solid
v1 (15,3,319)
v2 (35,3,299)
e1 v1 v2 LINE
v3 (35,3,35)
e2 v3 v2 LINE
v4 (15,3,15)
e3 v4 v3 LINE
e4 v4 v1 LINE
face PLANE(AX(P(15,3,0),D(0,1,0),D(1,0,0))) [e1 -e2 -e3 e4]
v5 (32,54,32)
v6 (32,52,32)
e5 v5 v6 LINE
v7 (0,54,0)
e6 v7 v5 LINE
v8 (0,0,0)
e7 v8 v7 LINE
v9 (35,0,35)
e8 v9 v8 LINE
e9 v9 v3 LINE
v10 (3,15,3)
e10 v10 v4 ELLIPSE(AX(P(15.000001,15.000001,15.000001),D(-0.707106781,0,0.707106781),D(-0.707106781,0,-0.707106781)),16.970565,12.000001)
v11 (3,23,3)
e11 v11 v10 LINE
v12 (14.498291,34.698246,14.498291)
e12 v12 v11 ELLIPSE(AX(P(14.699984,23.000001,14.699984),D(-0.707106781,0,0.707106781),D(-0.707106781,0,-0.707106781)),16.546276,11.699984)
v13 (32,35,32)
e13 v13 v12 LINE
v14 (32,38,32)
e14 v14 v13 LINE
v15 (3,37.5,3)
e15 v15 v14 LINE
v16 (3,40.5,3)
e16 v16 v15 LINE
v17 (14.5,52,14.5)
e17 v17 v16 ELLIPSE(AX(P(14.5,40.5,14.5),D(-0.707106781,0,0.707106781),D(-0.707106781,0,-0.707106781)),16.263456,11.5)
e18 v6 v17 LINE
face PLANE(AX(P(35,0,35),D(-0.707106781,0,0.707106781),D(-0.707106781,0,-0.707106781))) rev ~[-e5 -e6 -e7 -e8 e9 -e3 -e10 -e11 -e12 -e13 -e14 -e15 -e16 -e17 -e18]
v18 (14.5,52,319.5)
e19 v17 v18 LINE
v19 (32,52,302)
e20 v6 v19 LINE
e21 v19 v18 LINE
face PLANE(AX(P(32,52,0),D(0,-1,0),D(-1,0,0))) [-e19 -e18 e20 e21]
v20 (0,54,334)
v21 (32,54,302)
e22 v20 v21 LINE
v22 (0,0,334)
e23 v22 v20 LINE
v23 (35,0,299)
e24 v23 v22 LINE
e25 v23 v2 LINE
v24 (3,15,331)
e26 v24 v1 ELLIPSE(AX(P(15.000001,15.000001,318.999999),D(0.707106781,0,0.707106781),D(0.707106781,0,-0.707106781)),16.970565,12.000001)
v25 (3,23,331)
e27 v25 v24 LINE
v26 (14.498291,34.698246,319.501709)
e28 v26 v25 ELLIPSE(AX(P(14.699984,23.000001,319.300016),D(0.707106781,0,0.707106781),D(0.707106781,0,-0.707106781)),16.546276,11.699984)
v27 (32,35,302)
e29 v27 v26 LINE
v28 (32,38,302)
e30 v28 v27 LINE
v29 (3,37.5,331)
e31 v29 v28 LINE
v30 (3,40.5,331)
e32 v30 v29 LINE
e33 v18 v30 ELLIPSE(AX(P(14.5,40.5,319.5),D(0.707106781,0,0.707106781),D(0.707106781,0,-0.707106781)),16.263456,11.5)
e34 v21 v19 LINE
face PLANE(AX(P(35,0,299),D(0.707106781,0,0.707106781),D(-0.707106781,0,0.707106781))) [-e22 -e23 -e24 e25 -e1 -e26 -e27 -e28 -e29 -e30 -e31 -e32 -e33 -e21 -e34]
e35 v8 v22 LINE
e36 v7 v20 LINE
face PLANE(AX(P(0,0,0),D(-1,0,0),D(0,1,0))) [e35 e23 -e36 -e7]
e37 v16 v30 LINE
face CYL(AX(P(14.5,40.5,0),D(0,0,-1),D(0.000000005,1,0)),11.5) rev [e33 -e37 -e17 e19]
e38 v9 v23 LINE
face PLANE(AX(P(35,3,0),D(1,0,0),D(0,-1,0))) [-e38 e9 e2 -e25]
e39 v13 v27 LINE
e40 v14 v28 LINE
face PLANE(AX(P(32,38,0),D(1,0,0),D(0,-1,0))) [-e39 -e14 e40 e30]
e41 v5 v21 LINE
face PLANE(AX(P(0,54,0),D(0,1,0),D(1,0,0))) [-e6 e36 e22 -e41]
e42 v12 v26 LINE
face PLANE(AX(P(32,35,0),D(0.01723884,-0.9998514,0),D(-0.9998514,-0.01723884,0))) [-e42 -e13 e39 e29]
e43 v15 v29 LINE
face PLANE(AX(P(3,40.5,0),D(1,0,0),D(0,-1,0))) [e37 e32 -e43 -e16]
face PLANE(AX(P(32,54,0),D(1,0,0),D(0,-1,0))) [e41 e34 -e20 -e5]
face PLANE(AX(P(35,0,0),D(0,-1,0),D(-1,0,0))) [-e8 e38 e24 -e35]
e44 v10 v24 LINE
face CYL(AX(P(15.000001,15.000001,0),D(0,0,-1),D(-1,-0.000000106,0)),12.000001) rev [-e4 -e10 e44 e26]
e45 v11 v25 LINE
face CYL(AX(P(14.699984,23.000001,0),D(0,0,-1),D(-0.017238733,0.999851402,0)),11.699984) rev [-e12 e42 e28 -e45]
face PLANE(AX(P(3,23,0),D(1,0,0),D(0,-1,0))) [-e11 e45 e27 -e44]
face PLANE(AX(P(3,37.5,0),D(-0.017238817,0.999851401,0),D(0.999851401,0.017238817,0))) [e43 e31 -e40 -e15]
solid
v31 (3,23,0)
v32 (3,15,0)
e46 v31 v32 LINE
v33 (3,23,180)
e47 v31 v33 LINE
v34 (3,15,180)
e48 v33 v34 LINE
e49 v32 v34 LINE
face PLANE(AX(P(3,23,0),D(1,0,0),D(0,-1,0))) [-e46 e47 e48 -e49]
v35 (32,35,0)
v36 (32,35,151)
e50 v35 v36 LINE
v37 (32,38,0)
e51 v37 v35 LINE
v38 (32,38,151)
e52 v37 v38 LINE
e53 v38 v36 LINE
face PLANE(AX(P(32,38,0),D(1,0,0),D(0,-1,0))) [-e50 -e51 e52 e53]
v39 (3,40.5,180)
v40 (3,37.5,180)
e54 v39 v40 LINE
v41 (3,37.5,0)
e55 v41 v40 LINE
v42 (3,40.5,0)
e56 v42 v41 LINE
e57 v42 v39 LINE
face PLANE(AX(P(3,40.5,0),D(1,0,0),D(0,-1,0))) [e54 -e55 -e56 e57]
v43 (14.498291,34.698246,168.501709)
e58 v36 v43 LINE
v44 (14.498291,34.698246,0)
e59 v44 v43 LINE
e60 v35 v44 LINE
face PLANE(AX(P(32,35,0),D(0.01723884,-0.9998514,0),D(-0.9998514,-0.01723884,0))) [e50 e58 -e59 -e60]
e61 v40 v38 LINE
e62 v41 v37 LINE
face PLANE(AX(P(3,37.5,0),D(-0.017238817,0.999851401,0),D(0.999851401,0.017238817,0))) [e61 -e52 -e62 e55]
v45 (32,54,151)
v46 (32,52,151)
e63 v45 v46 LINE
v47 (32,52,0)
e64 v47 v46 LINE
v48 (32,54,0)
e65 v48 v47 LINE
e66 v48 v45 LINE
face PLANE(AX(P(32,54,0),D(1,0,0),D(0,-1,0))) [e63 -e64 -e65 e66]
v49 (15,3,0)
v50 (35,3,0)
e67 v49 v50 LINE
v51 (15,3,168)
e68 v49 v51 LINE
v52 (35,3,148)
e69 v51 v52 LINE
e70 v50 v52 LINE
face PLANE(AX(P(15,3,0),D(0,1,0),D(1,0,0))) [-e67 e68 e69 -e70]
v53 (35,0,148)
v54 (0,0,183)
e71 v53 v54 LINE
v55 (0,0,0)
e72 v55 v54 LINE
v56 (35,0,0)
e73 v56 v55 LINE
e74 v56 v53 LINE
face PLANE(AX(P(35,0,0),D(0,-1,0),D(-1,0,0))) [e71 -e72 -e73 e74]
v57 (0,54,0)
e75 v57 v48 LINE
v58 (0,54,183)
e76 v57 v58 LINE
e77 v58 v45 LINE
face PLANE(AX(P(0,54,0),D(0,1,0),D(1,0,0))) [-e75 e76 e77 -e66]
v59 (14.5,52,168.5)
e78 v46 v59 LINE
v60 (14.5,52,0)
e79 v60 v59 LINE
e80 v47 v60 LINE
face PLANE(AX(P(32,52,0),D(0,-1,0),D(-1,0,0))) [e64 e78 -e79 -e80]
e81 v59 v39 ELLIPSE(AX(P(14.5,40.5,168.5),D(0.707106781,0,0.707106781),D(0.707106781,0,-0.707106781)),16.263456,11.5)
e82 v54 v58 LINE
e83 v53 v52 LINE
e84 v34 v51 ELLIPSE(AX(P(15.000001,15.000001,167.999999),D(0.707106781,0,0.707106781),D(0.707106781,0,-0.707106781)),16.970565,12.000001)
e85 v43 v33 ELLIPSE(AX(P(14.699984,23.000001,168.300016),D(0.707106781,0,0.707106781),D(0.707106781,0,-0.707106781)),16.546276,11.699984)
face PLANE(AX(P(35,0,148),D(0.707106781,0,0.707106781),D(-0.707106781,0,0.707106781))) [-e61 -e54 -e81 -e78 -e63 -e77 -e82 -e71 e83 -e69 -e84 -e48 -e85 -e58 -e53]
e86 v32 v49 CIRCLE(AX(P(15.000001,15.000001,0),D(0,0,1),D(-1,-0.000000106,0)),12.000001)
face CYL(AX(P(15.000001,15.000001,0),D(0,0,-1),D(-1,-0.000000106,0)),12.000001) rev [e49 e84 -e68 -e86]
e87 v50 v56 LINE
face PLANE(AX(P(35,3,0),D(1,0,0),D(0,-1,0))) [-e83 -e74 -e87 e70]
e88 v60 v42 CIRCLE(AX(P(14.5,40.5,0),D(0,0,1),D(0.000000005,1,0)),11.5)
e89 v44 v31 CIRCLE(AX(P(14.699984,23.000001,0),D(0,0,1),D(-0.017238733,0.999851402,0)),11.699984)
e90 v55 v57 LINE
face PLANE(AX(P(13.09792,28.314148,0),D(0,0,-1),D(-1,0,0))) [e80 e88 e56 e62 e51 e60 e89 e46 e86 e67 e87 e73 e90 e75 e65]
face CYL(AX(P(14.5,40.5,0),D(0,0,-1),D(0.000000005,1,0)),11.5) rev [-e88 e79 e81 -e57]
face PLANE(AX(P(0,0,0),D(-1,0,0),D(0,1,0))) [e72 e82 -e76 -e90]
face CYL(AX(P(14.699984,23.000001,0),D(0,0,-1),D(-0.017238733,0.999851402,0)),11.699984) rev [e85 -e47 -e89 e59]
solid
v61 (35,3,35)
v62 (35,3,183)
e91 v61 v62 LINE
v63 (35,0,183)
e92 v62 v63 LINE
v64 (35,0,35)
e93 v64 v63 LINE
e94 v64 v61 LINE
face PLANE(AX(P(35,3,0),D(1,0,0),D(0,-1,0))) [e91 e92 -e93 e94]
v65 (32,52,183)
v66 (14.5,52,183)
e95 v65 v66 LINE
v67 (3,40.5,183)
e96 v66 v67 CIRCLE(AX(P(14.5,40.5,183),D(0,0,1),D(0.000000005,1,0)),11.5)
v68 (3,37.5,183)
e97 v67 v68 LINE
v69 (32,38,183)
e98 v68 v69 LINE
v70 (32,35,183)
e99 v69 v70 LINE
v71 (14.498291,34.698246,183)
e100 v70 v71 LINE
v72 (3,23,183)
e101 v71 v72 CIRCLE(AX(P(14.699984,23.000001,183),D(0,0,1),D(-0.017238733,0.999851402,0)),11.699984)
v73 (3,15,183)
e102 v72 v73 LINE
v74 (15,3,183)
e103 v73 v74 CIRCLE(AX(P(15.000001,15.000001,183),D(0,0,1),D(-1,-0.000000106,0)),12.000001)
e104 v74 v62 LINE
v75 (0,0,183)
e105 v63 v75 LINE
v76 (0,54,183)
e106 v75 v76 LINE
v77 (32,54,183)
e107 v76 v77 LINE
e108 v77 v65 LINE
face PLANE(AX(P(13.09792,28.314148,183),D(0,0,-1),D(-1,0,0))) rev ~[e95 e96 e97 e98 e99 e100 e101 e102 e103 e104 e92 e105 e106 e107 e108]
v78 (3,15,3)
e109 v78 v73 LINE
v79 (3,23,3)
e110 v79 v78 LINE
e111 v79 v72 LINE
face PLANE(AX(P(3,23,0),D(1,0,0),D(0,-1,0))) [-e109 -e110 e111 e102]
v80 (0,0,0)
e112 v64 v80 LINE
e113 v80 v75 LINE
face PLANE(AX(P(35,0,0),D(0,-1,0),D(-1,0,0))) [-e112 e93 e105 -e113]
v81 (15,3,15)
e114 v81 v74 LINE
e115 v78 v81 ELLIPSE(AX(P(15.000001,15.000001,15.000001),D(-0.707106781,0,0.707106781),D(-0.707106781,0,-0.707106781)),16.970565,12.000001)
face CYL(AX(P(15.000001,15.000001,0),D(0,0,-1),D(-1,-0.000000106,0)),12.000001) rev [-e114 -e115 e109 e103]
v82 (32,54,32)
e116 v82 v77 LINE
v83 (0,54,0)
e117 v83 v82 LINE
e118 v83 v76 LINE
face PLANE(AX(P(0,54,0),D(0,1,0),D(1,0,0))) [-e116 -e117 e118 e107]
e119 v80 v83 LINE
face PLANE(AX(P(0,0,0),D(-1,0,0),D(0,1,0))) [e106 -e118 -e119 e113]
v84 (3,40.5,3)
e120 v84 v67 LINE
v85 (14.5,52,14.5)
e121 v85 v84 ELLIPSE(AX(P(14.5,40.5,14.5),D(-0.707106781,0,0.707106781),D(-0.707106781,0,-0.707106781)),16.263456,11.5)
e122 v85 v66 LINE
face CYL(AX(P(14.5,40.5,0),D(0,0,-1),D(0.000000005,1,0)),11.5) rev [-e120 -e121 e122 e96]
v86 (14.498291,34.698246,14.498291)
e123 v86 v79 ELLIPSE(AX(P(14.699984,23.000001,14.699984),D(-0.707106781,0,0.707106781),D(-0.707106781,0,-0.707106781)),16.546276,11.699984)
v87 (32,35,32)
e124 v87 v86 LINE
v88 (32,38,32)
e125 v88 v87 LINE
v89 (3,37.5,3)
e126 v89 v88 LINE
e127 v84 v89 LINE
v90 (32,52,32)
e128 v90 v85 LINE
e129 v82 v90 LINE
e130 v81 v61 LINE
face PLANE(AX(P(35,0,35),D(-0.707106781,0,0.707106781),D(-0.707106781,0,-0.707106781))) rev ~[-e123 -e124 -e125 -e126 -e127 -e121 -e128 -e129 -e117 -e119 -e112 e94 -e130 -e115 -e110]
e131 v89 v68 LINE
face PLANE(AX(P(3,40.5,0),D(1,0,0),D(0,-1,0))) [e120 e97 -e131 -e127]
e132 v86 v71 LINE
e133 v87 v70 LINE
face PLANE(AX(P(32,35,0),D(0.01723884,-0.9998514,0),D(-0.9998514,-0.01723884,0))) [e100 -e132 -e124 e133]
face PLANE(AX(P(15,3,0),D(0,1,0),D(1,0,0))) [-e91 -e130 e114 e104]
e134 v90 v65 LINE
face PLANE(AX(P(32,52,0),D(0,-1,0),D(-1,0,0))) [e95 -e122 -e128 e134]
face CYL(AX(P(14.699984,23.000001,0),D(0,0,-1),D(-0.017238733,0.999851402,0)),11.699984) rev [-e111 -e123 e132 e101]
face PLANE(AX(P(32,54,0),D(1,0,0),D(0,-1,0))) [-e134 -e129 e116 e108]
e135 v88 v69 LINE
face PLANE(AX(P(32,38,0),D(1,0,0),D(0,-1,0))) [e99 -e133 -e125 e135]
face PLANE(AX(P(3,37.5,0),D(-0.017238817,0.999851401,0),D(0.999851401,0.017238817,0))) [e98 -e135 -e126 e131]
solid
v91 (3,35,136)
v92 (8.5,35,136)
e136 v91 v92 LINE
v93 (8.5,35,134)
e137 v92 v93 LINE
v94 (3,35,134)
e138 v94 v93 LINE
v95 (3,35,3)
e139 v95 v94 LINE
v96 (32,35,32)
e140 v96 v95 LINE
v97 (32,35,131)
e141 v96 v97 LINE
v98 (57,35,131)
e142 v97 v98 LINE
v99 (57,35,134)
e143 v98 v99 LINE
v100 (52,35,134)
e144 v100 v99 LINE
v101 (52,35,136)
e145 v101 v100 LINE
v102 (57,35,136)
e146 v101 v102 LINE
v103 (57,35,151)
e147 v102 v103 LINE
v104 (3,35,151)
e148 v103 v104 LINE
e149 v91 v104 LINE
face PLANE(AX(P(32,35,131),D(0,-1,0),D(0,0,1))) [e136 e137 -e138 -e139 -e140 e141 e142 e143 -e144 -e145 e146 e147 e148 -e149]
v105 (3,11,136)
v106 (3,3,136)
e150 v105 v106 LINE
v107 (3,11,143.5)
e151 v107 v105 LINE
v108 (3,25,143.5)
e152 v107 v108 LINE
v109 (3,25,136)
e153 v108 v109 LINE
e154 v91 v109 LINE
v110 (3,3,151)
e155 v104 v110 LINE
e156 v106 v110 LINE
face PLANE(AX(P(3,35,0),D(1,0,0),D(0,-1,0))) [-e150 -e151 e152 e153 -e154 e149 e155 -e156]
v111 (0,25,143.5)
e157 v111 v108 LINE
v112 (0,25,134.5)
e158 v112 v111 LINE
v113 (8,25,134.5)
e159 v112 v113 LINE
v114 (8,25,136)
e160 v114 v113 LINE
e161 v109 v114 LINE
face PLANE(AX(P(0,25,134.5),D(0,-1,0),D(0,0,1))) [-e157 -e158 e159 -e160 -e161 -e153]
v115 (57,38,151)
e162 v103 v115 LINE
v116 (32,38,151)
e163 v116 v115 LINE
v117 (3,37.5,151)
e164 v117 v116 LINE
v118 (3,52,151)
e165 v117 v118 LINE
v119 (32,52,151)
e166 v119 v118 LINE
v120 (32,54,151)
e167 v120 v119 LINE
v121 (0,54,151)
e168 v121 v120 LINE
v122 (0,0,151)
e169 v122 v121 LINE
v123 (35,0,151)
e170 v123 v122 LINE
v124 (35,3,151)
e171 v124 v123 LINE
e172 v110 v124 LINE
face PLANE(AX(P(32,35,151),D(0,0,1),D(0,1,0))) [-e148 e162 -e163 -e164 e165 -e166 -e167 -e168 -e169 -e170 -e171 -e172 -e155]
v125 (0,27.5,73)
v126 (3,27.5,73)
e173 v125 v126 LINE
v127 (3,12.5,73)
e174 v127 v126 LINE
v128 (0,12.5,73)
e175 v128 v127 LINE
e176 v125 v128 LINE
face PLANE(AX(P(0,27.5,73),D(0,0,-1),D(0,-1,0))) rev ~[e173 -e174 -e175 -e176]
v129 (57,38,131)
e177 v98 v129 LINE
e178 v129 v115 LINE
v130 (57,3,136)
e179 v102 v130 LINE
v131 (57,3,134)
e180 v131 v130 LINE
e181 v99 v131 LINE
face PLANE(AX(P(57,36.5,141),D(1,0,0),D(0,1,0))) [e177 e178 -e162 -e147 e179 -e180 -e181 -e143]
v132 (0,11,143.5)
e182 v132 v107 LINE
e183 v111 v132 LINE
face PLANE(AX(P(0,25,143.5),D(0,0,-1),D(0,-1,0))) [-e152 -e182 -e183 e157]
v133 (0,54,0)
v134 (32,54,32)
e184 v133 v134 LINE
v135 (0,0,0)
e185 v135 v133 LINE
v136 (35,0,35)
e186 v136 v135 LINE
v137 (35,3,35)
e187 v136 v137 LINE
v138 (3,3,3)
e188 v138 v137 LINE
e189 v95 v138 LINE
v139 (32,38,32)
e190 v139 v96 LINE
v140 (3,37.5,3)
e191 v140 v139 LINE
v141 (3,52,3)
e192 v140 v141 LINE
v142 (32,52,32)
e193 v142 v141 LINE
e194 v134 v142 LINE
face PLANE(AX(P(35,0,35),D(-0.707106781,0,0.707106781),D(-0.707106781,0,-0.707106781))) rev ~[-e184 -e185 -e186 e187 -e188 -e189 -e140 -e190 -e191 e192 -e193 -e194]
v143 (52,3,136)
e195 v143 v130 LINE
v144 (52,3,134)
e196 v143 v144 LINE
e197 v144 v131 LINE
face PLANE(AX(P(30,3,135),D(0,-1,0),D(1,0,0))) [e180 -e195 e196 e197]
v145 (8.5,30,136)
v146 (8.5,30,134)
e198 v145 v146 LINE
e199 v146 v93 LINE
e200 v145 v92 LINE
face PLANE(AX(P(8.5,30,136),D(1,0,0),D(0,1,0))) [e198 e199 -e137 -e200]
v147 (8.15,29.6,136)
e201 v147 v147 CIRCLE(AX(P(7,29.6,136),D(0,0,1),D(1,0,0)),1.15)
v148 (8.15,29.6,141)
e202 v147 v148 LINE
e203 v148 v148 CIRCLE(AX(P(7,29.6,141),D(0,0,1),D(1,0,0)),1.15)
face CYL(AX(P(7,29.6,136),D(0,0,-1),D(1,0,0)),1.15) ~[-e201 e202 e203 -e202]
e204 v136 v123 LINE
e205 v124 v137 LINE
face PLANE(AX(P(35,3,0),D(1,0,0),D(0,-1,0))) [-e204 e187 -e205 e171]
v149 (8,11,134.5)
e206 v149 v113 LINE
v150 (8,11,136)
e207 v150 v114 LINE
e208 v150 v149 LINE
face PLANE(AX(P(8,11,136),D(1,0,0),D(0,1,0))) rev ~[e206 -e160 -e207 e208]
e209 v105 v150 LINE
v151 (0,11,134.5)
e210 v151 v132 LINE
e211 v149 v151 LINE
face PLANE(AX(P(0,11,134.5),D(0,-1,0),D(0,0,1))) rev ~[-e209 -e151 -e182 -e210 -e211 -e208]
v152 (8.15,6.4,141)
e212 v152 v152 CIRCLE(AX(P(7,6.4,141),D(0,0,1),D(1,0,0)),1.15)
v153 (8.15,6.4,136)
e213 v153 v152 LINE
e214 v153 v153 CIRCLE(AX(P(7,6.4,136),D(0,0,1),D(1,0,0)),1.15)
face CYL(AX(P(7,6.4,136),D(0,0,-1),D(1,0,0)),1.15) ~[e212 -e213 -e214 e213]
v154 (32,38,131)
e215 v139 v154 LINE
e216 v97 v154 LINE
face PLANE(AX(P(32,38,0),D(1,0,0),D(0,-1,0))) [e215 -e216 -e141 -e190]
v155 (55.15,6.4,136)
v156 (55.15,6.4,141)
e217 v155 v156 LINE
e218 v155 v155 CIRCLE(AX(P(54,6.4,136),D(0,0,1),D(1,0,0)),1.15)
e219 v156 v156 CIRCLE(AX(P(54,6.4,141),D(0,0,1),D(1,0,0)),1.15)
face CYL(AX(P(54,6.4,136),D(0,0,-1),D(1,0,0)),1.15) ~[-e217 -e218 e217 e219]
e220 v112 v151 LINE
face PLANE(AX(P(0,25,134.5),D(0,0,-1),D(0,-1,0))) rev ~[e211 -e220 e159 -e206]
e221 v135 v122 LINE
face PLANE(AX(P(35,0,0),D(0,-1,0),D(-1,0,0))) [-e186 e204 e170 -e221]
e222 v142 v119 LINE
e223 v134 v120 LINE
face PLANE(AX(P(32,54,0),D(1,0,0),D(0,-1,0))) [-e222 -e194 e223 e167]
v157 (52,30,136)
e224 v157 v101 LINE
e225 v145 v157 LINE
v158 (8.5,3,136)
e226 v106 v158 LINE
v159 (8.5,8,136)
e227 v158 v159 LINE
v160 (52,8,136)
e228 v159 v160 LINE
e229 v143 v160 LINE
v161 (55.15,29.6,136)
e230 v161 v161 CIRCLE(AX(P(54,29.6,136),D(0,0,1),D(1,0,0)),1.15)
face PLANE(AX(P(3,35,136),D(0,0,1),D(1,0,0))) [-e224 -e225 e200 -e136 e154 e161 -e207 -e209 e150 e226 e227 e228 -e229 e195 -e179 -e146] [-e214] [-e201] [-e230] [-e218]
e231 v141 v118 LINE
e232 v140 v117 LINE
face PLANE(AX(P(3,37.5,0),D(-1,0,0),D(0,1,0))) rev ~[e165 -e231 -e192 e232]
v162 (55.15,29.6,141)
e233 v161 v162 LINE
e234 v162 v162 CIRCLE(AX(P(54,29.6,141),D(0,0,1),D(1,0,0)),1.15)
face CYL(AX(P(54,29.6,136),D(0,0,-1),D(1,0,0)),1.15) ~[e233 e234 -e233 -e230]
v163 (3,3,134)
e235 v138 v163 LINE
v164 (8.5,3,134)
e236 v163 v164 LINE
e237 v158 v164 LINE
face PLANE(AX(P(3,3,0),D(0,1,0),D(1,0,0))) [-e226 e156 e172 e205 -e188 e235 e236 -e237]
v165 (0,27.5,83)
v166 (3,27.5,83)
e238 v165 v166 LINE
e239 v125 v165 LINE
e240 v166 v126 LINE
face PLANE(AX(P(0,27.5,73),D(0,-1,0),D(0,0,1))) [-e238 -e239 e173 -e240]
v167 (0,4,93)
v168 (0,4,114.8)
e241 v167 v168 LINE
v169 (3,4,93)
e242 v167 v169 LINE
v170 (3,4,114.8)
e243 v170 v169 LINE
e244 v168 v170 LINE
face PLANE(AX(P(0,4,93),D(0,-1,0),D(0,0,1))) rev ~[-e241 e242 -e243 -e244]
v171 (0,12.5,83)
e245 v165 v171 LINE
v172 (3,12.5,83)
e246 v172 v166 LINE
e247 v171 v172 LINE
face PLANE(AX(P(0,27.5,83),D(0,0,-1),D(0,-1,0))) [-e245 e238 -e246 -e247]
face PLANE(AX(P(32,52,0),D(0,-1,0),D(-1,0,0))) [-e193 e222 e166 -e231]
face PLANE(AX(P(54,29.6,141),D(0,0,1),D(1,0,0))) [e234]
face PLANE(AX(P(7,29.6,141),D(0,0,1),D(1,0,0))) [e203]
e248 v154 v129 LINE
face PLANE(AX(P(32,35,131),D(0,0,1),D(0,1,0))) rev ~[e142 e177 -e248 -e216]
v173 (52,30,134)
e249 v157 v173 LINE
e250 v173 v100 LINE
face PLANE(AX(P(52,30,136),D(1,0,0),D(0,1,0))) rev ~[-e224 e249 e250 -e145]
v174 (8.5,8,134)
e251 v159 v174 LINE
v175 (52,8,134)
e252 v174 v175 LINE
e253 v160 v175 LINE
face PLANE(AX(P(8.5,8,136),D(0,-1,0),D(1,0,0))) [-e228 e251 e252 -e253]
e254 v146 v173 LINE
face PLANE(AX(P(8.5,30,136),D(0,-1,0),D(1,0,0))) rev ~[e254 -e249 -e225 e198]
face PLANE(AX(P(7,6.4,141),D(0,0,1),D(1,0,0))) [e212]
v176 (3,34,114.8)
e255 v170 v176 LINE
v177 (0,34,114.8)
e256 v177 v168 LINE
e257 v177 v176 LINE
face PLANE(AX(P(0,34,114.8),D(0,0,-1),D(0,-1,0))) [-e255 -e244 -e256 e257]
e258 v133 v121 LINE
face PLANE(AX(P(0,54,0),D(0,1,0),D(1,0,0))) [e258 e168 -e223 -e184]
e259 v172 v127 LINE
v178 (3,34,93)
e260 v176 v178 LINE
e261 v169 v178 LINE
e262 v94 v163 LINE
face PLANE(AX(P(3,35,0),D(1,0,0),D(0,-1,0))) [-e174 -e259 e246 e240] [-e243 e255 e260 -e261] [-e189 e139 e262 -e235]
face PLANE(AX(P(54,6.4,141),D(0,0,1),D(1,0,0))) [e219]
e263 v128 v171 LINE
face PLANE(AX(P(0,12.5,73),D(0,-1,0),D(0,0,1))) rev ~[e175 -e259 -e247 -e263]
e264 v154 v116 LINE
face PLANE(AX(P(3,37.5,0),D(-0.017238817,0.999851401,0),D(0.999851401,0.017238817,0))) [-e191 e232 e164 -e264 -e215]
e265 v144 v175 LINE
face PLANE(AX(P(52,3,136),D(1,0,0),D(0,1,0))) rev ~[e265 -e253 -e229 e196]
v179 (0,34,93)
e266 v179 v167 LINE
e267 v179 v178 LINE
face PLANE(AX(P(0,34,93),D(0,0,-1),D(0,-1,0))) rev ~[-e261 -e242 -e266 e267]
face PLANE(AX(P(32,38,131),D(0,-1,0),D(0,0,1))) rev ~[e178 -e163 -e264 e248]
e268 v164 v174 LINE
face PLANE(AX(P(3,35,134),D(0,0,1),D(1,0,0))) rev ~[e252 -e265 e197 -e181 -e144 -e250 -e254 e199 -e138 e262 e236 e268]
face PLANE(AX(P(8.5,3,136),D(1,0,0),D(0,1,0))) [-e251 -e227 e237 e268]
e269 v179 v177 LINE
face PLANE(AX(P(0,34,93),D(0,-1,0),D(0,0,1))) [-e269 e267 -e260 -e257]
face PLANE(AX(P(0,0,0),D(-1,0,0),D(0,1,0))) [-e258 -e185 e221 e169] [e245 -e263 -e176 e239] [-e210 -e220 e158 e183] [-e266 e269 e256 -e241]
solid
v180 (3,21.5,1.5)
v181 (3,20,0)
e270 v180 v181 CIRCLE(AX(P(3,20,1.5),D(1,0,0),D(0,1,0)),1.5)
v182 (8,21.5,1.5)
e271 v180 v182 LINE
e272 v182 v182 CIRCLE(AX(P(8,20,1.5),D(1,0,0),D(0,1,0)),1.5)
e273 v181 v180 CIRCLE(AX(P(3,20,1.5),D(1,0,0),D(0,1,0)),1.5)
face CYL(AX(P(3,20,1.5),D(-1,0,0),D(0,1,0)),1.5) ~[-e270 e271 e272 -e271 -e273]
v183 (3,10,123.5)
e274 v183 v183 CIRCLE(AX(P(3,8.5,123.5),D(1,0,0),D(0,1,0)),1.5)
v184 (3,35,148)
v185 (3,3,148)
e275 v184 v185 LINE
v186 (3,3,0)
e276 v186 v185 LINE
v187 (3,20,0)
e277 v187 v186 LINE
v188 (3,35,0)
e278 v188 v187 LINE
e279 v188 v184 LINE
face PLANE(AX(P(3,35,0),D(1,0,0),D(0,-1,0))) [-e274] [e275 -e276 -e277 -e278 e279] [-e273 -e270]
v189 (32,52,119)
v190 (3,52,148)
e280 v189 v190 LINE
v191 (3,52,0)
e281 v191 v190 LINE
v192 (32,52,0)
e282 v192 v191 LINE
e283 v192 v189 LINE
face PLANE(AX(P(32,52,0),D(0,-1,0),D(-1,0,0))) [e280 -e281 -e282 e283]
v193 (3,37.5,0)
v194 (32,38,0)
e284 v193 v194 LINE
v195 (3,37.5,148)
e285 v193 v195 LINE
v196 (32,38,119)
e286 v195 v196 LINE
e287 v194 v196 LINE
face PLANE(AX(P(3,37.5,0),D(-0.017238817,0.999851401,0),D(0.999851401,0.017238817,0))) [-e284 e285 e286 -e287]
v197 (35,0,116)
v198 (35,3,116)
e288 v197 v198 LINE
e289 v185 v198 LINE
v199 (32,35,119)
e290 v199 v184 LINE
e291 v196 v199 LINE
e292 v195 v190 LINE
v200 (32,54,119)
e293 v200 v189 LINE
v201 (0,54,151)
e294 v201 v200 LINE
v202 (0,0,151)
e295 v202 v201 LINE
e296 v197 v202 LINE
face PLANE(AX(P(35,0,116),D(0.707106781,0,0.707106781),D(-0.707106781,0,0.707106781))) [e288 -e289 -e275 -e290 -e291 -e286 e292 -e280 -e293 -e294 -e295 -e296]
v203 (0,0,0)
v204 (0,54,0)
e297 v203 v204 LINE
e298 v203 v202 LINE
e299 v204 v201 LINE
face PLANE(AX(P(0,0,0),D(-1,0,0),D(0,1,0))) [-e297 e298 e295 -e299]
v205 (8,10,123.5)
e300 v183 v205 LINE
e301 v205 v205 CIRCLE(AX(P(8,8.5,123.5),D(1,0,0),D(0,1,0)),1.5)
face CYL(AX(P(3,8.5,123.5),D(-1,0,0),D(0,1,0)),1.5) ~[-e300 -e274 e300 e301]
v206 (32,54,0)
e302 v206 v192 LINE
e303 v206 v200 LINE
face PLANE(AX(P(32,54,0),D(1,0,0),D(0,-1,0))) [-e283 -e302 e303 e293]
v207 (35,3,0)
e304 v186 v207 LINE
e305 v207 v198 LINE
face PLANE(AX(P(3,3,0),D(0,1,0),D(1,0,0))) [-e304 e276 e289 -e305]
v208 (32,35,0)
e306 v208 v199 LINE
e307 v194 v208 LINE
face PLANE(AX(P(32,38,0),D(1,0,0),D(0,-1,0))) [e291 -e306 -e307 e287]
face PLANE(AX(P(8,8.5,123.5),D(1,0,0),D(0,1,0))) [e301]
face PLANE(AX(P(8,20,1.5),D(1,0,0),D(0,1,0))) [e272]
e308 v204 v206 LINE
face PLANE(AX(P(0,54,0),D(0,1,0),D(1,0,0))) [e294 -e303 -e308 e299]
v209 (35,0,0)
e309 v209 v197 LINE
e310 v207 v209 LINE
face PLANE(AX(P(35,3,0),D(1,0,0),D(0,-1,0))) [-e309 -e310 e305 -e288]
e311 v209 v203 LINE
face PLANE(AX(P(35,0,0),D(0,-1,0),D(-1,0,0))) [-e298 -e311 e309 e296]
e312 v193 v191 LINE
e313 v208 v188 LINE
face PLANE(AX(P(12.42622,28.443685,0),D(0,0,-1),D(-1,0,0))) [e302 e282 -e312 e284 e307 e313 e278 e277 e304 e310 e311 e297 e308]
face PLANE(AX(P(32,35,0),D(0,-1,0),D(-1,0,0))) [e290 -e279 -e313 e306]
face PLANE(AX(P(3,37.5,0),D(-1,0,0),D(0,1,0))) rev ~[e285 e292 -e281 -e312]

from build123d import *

# Parameters (mm, degrees)
PAD_DEPTH       = 334
POCKET_DEPTH    = 54.001
POCKET001_DEPTH = 54.001
PAD001_DEPTH    = 183
POCKET003_DEPTH = 54.001
PAD002_DEPTH    = 183
POCKET004_DEPTH = 54.001
PAD003_DEPTH    = 151
POCKET006_DEPTH = 54.001
SKETCH011_R     = 1.5
PAD004_DEPTH    = 5
PAD005_DEPTH    = 151
POCKET007_DEPTH = 54.001
SKETCH014_W     = 15
SKETCH014_H     = 10
SKETCH014_W_2   = 30
SKETCH014_H_2   = 21.8
SKETCH014_W_3   = 14
SKETCH014_H_3   = 9
POCKET008_DEPTH = 5
SKETCH015_W     = 54
SKETCH015_H     = 2
PAD006_DEPTH    = 32
SKETCH016_R     = 1.15
PAD007_DEPTH    = 5
SKETCH017_W     = 43.5
SKETCH017_H     = 5
POCKET009_DEPTH = 5
SKETCH018_W     = 3
SKETCH018_H     = 20
PAD008_DEPTH    = 25
SKETCH019_W     = 5
SKETCH019_H     = 14
POCKET010_DEPTH = 1.5


with BuildPart() as top_and_left:
    # Sketch → Pad (new body)
    with BuildSketch(Plane.XY):
        with BuildLine():
            Line((32, 52), (14.5, 52))
            ThreePointArc((14.5, 52), (6.368272, 48.631728), (3, 40.5))
            Line((3, 40.5), (3, 37.5))
            Line((3, 37.5), (32, 38))
            Line((32, 38), (32, 35))
            Line((32, 35), (14.498291, 34.698246))
            ThreePointArc((14.498291, 34.698246), (6.355841, 31.201519), (3, 23))
            Line((3, 23), (3, 15))
            ThreePointArc((3, 15), (6.514719, 6.514719), (15, 3))
            Line((15, 3), (35, 3))
            Line((35, 3), (35, 0))
            Line((35, 0), (0, 0))
            Line((0, 0), (0, 54))
            Line((0, 54), (32, 54))
            Line((32, 54), (32, 52))
        make_face()
    extrude(amount=PAD_DEPTH)

    # Sketch001 → Pocket (cut, through all)
    with BuildSketch(Plane.XZ):
        Polygon((0, 334), (35, 334), (35, 299), align=None)
    extrude(amount=-POCKET_DEPTH, mode=Mode.SUBTRACT)

    # Sketch002 → Pocket001 (cut, through all)
    with BuildSketch(Plane.XZ):
        Polygon((0, 0), (35, 0), (35, 35), align=None)
    extrude(amount=-POCKET001_DEPTH, mode=Mode.SUBTRACT)


with BuildPart() as bottom_l:
    # Sketch003 → Pad001 (new body)
    with BuildSketch(Plane.XY):
        with BuildLine():
            Line((32, 52), (14.5, 52))
            ThreePointArc((14.5, 52), (6.368272, 48.631728), (3, 40.5))
            Line((3, 40.5), (3, 37.5))
            Line((3, 37.5), (32, 38))
            Line((32, 38), (32, 35))
            Line((32, 35), (14.498291, 34.698246))
            ThreePointArc((14.498291, 34.698246), (6.355841, 31.201519), (3, 23))
            Line((3, 23), (3, 15))
            ThreePointArc((3, 15), (6.514719, 6.514719), (15, 3))
            Line((15, 3), (35, 3))
            Line((35, 3), (35, 0))
            Line((35, 0), (0, 0))
            Line((0, 0), (0, 54))
            Line((0, 54), (32, 54))
            Line((32, 54), (32, 52))
        make_face()
    extrude(amount=PAD001_DEPTH)

    # Sketch005 → Pocket003 (cut, through all)
    with BuildSketch(Plane.XZ):
        Polygon((0, 0), (35, 0), (35, 35), align=None)
    extrude(amount=-POCKET003_DEPTH, mode=Mode.SUBTRACT)


with BuildPart() as right_u:
    # Sketch006 → Pad002 (new body)
    with BuildSketch(Plane.XY):
        with BuildLine():
            Line((32, 52), (14.5, 52))
            ThreePointArc((14.5, 52), (6.368272, 48.631728), (3, 40.5))
            Line((3, 40.5), (3, 37.5))
            Line((3, 37.5), (32, 38))
            Line((32, 38), (32, 35))
            Line((32, 35), (14.498291, 34.698246))
            ThreePointArc((14.498291, 34.698246), (6.355841, 31.201519), (3, 23))
            Line((3, 23), (3, 15))
            ThreePointArc((3, 15), (6.514719, 6.514719), (15, 3))
            Line((15, 3), (35, 3))
            Line((35, 3), (35, 0))
            Line((35, 0), (0, 0))
            Line((0, 0), (0, 54))
            Line((0, 54), (32, 54))
            Line((32, 54), (32, 52))
        make_face()
    extrude(amount=PAD002_DEPTH)

    # Sketch007 → Pocket004 (cut, through all)
    with BuildSketch(Plane.XZ):
        Polygon((0, 183), (35, 183), (35, 148), align=None)
    extrude(amount=-POCKET004_DEPTH, mode=Mode.SUBTRACT)


with BuildPart() as bottom_r:
    # Sketch008 → Pad003 (new body)
    with BuildSketch(Plane.XY):
        Polygon((3, 40.5), (3, 37.5), (32, 38), (32, 35), (3, 35), (3, 3), (35, 3), (35, 0), (0, 0), (0, 54), (32, 54), (32, 52), (3, 52), align=None)
    extrude(amount=PAD003_DEPTH)

    # Sketch010 → Pocket006 (cut, through all)
    with BuildSketch(Plane.XZ):
        Polygon((0, 151), (35, 151), (35, 116), align=None)
    extrude(amount=-POCKET006_DEPTH, mode=Mode.SUBTRACT)

    # Sketch011 (on Face9 of Pocket006) → Pad004 (join)
    with BuildSketch(Plane.YZ.offset(3)):
        with Locations((8.5, 123.5)):
            Circle(SKETCH011_R)
        with Locations((20, 1.5)):
            Circle(SKETCH011_R)
    extrude(amount=PAD004_DEPTH)


with BuildPart() as right_b:
    # Sketch012 → Pad005 (new body)
    with BuildSketch(Plane.XY):
        Polygon((3, 40.5), (3, 37.5), (32, 38), (32, 35), (3, 35), (3, 3), (35, 3), (35, 0), (0, 0), (0, 54), (32, 54), (32, 52), (3, 52), align=None)
    extrude(amount=PAD005_DEPTH)

    # Sketch013 → Pocket007 (cut, through all)
    with BuildSketch(Plane.XZ):
        Polygon((0, 0), (35, 0), (35, 35), align=None)
    extrude(amount=-POCKET007_DEPTH, mode=Mode.SUBTRACT)

    # Sketch014 (on Face7 of Pocket007) → Pocket008 (cut)
    with BuildSketch(Plane(origin=(0, 0, 0), x_dir=(0, -1, 0), z_dir=(-1, 0, 0))):
        with Locations((-20, 78)):
            Rectangle(SKETCH014_W, SKETCH014_H)
        with Locations((-19, 103.9)):
            Rectangle(SKETCH014_W_2, SKETCH014_H_2)
        with Locations((-18, 139)):
            Rectangle(SKETCH014_W_3, SKETCH014_H_3)
    extrude(amount=-POCKET008_DEPTH, mode=Mode.SUBTRACT)

    # Sketch015 (on Face12 of Pocket008) → Pad006 (join)
    with BuildSketch(Plane.XZ.offset(-35)):
        with Locations((30, 135)):
            Rectangle(SKETCH015_W, SKETCH015_H)
    extrude(amount=PAD006_DEPTH)

    # Sketch016 (on Face34 of Pad006) → Pad007 (join)
    with BuildSketch(Plane.XY.offset(136)):
        with Locations((7, 29.6)):
            Circle(SKETCH016_R)
        with Locations((7, 6.4)):
            Circle(SKETCH016_R)
        with Locations((54, 29.6)):
            Circle(SKETCH016_R)
        with Locations((54, 6.4)):
            Circle(SKETCH016_R)
    extrude(amount=PAD007_DEPTH)

    # Sketch017 (on Face34 of Pad007) → Pocket009 (cut)
    with BuildSketch(Plane.XY.offset(136)):
        with Locations((30.25, 32.5)):
            Rectangle(SKETCH017_W, SKETCH017_H)
        with Locations((30.25, 5.5)):
            Rectangle(SKETCH017_W, SKETCH017_H)
    extrude(amount=-POCKET009_DEPTH, mode=Mode.SUBTRACT)

    # Sketch018 (on Face11 of Pocket009) → Pad008 (join)
    with BuildSketch(Plane.YZ.offset(32)):
        with Locations((36.5, 141)):
            Rectangle(SKETCH018_W, SKETCH018_H)
    extrude(amount=PAD008_DEPTH)

    # Sketch019 (on Face40 of Pad008) → Pocket010 (cut)
    with BuildSketch(Plane.XY.offset(136)):
        with Locations((5.5, 18)):
            Rectangle(SKETCH019_W, SKETCH019_H)
    extrude(amount=-POCKET010_DEPTH, mode=Mode.SUBTRACT)


solid = Compound([top_and_left.part, bottom_l.part, right_u.part, bottom_r.part, right_b.part])
